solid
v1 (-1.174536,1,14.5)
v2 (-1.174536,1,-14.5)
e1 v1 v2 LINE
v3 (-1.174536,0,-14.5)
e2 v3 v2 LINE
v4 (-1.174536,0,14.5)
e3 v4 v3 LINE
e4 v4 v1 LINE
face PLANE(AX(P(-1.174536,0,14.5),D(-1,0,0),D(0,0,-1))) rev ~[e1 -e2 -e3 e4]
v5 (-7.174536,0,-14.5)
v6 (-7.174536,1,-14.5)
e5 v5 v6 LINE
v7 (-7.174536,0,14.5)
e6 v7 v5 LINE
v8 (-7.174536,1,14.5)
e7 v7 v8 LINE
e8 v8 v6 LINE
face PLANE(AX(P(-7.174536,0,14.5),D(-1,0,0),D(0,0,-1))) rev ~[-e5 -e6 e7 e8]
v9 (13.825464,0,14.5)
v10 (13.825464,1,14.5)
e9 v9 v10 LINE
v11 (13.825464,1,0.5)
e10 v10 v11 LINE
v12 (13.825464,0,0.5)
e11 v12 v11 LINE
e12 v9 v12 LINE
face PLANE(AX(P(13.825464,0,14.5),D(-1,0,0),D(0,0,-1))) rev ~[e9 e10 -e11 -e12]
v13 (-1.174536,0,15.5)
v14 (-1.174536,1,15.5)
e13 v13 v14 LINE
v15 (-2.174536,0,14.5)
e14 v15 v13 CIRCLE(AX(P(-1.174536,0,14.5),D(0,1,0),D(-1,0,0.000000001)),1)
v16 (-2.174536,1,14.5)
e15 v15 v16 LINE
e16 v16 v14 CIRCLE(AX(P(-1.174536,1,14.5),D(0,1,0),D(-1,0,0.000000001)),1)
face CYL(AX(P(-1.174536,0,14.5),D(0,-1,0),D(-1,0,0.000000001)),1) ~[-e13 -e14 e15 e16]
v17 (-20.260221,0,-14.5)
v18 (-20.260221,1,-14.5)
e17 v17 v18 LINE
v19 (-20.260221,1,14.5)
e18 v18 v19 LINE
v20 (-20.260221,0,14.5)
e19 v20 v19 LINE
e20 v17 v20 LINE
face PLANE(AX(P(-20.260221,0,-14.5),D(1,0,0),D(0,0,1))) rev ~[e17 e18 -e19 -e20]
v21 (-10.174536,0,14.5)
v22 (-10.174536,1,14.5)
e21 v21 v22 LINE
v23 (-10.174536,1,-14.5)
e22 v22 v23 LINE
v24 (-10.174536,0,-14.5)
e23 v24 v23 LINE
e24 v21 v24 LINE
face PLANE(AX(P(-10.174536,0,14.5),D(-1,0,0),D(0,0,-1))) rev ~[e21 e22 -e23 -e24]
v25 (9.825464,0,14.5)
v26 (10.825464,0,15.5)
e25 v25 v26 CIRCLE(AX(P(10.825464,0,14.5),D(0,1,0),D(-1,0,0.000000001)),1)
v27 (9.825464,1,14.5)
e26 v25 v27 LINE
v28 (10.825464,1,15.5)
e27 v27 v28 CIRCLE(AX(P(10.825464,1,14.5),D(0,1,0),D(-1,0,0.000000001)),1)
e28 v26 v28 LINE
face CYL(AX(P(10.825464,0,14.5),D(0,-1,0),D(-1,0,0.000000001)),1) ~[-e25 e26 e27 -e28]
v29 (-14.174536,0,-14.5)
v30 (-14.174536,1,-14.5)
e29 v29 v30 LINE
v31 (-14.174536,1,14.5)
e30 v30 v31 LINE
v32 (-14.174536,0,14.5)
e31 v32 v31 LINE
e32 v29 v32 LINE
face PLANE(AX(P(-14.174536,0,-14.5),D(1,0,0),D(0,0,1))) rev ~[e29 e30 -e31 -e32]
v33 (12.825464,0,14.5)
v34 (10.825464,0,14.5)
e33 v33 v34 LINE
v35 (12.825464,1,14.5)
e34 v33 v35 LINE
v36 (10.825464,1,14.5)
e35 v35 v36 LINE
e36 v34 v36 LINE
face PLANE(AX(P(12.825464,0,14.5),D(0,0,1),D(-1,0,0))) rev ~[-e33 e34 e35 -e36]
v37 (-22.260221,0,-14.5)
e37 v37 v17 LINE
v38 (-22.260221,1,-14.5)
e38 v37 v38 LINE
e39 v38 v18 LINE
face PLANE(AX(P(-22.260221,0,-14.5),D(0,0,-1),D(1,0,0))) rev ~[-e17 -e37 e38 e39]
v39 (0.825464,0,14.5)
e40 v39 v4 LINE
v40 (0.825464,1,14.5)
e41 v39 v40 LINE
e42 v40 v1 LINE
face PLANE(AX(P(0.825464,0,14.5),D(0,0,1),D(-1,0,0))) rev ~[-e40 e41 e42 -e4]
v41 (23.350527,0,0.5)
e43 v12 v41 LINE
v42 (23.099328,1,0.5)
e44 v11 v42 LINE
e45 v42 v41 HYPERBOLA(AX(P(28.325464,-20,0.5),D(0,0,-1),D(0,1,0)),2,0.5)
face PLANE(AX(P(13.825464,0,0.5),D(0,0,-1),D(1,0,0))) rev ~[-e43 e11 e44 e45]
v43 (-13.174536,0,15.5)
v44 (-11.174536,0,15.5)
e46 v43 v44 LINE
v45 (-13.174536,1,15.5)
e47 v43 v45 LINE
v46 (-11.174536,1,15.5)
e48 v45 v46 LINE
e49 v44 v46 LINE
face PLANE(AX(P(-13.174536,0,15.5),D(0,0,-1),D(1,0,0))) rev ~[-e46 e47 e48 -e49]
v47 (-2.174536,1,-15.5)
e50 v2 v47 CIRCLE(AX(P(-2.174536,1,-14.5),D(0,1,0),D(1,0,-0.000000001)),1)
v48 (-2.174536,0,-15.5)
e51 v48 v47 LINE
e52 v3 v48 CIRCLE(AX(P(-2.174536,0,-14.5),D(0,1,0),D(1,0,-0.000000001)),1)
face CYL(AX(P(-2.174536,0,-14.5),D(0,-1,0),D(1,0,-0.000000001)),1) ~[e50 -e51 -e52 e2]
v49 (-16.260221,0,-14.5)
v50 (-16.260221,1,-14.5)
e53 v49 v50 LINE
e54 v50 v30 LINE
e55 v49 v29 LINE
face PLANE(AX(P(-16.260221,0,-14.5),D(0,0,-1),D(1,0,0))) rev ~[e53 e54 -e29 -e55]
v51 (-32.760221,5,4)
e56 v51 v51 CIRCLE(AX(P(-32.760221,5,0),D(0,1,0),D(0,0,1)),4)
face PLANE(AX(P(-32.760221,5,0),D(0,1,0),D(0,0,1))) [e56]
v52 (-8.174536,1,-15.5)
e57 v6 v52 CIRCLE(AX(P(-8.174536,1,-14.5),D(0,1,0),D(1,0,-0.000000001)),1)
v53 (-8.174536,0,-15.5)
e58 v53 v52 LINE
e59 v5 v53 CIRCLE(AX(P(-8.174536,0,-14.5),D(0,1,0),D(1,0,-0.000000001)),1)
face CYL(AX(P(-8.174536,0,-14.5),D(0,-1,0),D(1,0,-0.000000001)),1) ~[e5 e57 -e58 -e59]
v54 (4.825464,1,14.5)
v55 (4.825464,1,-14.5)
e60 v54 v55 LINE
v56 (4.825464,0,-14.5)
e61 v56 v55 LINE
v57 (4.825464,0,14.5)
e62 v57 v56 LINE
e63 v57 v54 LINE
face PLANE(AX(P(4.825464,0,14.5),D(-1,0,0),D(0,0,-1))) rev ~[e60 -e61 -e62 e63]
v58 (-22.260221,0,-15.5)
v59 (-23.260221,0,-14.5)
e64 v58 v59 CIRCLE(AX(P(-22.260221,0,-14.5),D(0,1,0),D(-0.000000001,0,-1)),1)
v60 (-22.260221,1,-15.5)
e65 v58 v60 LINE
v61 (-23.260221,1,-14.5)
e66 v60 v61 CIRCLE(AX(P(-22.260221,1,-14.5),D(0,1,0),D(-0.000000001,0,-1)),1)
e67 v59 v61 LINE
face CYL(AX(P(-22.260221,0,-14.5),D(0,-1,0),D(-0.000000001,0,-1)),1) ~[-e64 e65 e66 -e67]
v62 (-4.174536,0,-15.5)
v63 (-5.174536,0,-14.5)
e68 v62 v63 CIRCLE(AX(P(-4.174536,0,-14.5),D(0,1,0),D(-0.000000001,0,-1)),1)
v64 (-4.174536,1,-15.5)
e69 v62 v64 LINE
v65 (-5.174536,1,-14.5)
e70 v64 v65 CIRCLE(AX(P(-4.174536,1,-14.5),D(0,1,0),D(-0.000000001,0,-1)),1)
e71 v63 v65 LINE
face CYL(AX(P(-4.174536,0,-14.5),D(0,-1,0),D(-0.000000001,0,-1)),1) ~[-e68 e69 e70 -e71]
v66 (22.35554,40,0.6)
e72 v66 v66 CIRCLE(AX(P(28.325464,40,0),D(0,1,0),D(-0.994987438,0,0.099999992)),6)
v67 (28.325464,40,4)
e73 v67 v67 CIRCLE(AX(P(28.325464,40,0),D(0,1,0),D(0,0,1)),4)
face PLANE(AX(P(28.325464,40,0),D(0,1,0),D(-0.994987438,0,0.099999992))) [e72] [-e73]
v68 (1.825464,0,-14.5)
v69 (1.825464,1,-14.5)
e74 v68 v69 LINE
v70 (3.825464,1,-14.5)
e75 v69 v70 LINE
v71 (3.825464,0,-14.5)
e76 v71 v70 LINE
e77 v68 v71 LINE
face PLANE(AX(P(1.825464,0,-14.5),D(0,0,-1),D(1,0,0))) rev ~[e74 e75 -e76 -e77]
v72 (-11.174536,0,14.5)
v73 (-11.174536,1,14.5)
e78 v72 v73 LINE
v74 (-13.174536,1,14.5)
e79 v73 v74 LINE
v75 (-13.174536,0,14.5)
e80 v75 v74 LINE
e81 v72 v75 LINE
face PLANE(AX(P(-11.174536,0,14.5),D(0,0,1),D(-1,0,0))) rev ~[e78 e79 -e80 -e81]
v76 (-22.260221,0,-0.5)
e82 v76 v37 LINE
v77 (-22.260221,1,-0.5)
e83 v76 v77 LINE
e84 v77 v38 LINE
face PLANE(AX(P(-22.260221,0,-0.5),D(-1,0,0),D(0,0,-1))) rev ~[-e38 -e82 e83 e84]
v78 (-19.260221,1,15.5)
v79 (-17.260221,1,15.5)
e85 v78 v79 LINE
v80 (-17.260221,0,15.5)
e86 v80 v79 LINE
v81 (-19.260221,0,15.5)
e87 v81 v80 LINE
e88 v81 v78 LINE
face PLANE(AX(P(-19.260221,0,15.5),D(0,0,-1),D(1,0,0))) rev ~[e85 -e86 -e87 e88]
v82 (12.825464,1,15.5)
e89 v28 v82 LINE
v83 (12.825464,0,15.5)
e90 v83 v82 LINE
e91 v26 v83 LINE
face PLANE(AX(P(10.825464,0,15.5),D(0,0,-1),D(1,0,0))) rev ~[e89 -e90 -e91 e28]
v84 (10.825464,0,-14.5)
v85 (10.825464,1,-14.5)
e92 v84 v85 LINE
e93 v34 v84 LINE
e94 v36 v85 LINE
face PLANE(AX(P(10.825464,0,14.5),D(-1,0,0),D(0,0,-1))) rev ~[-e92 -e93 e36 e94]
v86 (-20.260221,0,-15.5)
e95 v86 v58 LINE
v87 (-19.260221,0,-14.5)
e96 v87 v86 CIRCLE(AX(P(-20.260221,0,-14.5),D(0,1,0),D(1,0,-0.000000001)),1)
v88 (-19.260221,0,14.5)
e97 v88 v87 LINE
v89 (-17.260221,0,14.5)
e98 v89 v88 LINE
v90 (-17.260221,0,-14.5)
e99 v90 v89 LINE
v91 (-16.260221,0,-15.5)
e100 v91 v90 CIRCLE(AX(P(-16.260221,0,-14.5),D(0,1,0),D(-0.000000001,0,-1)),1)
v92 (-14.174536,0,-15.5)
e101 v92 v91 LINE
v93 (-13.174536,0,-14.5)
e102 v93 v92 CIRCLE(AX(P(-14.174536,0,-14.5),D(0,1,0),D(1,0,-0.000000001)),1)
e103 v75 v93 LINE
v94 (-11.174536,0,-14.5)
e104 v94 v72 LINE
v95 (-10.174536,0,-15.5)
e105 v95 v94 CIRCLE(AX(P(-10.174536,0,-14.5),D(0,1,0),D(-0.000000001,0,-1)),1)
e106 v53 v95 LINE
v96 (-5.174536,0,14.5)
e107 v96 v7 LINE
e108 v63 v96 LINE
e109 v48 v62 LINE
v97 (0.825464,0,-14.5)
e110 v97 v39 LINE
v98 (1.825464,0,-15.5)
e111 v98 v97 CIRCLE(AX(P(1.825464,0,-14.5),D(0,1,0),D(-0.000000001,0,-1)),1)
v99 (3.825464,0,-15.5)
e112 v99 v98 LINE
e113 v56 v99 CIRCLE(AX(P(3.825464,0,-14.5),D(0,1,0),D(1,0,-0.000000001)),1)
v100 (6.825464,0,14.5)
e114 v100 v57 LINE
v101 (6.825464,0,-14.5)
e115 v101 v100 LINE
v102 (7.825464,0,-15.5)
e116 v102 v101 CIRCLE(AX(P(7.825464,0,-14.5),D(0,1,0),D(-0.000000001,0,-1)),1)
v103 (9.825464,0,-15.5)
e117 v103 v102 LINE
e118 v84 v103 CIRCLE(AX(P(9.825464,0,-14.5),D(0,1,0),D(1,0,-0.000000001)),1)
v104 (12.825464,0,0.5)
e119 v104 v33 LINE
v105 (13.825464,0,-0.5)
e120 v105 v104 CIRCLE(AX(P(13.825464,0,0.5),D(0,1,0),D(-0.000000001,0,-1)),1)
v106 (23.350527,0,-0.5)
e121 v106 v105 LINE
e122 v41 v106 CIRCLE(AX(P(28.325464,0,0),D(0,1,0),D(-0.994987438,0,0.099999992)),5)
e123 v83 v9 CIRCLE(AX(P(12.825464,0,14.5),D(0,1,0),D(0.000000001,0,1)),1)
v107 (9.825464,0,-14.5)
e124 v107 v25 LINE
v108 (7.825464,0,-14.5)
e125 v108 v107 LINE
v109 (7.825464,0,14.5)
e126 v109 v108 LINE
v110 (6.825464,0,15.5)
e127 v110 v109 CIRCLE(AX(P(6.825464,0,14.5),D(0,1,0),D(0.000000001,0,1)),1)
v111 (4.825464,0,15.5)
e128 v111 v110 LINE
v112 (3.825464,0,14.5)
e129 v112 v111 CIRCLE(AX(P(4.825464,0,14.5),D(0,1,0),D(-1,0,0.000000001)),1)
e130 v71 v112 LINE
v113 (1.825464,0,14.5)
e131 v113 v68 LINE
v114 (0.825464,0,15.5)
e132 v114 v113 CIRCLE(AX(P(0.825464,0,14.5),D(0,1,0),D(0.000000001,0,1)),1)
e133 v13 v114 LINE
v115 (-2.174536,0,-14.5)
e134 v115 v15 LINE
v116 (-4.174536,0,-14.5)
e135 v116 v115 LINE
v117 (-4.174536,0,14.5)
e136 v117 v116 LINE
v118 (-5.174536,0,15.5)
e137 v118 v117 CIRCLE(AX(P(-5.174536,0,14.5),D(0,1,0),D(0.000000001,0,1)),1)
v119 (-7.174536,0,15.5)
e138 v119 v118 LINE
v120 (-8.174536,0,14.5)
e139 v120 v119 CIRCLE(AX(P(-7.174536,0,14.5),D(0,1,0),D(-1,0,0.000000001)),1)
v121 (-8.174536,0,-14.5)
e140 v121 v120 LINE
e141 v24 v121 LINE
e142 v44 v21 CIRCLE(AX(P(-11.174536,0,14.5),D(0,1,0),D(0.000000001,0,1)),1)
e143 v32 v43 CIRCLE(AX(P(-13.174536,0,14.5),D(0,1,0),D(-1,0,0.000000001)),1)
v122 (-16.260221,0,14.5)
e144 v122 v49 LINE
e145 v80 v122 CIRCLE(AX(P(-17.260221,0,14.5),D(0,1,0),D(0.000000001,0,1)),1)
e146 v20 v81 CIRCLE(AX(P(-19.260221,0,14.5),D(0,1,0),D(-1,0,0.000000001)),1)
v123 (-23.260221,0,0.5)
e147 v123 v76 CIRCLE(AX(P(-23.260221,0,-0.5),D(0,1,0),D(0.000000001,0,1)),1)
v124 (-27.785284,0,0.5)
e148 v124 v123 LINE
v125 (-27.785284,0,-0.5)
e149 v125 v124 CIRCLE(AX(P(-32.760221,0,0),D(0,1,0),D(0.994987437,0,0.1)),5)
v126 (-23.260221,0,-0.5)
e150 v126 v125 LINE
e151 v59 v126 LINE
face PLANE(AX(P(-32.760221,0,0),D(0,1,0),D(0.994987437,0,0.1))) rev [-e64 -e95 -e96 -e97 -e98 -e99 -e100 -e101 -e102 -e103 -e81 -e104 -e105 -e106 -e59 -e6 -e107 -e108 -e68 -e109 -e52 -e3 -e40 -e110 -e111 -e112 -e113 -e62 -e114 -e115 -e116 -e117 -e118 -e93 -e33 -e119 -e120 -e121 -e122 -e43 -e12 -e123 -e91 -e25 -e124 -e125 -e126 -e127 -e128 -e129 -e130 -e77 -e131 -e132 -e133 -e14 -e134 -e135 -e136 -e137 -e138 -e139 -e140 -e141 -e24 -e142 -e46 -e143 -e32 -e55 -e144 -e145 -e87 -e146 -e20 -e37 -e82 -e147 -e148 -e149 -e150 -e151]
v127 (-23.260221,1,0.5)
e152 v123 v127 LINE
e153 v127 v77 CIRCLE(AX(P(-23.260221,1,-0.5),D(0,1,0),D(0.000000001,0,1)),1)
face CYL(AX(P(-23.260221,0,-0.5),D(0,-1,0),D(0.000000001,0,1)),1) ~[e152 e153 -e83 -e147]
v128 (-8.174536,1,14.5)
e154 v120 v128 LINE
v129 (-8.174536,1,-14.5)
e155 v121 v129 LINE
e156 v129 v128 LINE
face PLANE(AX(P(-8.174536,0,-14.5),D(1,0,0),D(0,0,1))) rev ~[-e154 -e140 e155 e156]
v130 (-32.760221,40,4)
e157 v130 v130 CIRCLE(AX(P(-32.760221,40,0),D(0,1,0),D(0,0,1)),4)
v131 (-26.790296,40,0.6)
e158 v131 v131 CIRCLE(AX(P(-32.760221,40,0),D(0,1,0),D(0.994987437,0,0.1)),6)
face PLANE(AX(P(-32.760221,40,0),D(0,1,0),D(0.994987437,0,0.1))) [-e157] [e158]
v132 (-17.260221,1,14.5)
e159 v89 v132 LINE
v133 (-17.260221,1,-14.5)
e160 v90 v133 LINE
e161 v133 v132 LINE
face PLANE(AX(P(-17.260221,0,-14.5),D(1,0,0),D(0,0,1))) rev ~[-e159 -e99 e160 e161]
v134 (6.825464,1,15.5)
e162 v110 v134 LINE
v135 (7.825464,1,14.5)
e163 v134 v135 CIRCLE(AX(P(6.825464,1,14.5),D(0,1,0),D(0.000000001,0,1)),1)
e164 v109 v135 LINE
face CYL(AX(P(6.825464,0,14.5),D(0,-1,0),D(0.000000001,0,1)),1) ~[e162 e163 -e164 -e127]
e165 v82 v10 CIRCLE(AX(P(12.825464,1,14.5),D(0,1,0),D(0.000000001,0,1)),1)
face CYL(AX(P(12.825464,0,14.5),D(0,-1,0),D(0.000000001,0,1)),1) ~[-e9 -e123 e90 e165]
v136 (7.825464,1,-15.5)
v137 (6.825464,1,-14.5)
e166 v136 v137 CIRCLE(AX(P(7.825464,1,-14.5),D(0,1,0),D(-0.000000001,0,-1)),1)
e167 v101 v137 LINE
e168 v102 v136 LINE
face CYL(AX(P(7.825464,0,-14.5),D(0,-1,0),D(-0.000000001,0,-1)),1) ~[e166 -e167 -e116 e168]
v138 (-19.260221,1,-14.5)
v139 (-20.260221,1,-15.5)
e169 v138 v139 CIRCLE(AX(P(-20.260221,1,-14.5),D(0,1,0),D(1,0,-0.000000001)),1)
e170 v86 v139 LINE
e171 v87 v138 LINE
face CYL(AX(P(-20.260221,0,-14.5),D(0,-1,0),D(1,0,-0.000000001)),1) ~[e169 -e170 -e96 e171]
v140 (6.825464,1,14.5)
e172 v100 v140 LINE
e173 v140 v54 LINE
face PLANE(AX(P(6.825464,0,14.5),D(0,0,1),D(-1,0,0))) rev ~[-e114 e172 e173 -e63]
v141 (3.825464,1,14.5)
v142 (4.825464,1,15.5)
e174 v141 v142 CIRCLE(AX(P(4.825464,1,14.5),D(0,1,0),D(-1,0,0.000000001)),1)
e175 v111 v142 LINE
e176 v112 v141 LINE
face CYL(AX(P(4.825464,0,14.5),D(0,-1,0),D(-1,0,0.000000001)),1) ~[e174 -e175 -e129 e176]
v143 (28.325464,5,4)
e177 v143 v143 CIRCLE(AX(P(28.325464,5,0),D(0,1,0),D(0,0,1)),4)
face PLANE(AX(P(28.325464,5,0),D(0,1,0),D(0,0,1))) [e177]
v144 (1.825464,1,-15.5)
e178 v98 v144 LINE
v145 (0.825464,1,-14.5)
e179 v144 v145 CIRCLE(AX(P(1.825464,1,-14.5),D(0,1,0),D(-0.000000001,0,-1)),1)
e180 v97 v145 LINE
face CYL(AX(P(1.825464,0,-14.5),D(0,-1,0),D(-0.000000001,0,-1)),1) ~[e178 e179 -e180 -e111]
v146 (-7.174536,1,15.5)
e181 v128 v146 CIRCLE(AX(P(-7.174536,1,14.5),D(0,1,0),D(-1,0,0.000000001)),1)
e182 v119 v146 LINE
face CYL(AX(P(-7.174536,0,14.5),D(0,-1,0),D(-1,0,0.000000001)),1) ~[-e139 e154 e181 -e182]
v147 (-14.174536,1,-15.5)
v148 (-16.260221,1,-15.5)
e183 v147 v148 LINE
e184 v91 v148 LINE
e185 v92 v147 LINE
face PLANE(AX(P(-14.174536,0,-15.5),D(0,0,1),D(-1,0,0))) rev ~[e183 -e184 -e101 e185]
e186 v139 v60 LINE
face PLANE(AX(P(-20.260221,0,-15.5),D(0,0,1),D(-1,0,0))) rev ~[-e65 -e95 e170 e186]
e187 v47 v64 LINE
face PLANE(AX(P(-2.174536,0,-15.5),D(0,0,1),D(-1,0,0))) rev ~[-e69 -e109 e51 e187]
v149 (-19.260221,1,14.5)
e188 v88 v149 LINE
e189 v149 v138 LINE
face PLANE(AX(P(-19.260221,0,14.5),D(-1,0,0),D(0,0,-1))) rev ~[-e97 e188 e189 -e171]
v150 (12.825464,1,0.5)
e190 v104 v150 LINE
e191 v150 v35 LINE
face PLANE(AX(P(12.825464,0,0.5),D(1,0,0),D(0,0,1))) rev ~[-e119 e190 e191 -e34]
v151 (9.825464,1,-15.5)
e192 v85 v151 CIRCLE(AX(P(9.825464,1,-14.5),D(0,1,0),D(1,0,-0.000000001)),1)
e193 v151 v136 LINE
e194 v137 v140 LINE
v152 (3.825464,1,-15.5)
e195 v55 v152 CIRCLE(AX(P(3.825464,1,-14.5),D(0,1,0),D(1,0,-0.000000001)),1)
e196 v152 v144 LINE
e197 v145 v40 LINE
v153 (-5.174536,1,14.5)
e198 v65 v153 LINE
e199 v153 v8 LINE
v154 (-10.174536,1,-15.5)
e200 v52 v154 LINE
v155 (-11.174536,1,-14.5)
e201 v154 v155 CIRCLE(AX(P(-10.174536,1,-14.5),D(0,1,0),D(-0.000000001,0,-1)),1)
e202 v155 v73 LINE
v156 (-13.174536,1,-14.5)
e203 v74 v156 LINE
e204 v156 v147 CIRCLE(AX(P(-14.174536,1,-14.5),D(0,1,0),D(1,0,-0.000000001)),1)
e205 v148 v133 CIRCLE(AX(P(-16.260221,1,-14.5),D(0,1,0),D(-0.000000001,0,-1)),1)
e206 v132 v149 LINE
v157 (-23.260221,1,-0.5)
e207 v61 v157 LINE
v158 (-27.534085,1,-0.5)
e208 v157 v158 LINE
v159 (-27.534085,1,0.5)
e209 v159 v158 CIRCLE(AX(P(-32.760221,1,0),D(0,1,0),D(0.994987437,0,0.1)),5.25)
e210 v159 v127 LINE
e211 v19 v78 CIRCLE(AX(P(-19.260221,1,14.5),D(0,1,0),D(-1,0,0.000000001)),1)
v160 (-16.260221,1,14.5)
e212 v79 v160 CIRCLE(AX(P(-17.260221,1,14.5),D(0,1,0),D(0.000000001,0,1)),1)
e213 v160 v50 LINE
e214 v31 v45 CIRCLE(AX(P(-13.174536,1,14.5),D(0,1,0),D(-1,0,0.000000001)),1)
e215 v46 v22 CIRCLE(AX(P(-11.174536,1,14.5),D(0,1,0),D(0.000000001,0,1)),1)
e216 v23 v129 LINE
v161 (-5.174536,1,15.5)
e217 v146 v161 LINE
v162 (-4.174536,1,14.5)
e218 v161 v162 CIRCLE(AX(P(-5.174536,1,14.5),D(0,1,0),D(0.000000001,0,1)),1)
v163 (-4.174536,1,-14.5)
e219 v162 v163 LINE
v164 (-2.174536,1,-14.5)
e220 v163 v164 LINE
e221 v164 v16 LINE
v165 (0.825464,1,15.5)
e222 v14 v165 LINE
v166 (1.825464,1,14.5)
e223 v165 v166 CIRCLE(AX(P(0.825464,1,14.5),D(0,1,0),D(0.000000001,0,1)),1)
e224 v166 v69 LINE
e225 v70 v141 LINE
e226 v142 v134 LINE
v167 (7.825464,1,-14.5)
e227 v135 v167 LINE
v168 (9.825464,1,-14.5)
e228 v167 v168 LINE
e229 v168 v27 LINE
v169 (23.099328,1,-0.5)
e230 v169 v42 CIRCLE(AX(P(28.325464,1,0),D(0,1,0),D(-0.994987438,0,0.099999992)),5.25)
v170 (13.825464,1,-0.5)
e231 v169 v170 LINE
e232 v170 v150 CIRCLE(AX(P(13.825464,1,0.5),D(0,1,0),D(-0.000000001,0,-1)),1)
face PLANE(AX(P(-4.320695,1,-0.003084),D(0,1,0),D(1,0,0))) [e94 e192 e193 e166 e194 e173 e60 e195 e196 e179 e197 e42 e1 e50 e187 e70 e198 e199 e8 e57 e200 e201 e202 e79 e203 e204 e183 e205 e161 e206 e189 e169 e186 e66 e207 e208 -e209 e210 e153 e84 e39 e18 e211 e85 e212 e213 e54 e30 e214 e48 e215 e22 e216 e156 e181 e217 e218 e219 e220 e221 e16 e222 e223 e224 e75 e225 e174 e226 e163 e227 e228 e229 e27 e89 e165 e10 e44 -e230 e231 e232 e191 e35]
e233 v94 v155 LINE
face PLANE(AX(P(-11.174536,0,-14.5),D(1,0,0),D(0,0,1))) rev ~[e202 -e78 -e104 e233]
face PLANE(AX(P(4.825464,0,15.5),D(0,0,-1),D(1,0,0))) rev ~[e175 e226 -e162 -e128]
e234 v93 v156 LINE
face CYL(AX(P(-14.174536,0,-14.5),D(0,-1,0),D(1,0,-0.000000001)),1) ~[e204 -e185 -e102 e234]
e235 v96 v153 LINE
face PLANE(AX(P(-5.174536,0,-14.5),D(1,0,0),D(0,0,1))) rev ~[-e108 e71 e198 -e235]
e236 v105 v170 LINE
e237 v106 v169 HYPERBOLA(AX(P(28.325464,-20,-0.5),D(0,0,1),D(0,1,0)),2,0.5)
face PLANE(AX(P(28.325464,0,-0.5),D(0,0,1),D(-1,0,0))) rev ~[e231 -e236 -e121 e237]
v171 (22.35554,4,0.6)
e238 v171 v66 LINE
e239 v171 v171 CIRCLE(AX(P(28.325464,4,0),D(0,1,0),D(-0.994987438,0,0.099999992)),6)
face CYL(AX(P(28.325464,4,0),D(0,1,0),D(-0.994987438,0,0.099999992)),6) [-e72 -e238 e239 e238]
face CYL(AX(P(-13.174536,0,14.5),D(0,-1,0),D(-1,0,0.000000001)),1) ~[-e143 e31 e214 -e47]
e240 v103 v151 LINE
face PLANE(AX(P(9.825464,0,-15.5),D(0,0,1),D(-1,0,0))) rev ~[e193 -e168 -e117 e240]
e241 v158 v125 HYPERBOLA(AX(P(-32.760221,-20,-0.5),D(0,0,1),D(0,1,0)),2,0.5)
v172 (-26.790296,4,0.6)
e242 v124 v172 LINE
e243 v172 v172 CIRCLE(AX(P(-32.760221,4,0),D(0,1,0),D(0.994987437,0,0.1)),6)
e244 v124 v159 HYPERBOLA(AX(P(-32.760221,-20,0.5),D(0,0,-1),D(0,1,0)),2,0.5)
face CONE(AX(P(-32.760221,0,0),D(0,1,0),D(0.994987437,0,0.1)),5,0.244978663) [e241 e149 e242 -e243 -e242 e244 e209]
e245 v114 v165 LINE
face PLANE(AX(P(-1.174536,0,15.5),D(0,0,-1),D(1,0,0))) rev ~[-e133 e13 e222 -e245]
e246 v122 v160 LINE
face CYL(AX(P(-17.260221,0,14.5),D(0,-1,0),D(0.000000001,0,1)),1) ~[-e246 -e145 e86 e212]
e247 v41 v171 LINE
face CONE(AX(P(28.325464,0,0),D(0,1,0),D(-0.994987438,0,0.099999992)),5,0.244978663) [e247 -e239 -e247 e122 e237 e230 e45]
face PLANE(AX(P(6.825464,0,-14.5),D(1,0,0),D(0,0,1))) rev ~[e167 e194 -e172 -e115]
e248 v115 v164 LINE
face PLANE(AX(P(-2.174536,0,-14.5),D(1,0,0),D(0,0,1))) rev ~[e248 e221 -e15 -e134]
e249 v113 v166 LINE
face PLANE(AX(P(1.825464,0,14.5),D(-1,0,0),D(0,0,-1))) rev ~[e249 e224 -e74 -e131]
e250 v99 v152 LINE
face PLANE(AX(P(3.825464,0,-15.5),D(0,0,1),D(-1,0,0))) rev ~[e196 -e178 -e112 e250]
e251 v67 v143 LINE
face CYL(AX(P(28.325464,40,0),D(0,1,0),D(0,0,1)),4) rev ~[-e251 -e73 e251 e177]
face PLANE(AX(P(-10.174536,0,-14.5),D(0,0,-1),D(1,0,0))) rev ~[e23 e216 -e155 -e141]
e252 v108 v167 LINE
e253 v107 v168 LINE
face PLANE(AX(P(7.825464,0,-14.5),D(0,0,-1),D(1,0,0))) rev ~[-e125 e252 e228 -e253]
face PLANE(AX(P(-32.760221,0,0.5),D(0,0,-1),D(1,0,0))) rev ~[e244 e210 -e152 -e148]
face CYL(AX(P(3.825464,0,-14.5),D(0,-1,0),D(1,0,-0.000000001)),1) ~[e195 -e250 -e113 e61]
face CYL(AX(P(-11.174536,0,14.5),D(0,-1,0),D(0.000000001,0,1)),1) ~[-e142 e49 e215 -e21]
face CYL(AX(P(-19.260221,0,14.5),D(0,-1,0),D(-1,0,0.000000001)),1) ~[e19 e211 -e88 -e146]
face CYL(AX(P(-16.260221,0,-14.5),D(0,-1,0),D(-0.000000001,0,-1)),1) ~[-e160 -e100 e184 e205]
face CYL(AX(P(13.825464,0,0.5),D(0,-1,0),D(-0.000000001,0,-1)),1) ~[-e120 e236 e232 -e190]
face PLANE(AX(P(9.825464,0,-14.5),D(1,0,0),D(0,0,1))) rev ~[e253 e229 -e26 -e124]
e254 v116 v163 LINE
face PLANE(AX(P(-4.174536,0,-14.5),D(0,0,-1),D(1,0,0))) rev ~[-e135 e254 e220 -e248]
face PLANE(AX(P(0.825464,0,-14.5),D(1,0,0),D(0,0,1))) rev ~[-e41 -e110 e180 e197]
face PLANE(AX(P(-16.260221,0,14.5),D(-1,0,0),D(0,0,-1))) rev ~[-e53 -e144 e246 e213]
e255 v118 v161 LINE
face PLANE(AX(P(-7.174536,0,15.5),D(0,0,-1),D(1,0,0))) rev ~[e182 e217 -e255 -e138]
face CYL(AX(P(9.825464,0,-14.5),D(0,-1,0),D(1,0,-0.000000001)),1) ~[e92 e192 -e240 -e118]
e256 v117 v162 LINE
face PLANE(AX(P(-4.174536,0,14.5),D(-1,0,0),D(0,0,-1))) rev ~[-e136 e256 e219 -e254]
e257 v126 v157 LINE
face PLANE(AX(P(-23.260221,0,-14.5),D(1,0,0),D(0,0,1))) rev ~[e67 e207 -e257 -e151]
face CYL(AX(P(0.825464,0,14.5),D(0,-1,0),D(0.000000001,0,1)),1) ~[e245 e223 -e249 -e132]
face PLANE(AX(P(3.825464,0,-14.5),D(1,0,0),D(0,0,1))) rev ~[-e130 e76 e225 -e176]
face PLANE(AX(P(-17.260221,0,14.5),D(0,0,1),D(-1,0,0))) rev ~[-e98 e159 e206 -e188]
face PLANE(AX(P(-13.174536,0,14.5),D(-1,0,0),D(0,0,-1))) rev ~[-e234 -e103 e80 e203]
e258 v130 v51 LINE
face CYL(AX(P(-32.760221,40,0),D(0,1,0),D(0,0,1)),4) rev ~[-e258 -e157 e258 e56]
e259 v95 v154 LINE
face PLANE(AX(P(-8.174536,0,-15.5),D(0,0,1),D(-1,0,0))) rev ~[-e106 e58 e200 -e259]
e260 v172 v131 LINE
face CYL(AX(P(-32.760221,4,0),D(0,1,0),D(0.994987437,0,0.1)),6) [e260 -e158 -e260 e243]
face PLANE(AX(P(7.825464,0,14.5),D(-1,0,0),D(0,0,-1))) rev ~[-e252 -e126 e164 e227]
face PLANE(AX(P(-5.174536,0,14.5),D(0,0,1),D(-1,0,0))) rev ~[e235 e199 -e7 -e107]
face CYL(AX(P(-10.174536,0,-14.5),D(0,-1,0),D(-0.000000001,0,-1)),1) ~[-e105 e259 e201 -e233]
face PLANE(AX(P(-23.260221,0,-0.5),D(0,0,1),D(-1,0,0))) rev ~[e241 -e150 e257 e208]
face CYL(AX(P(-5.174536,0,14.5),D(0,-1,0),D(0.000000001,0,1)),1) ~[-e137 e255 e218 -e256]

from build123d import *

# Parameters (mm, degrees)
BOSS_EXTRUDE1_DEPTH = 1
SKETCH5_R           = 4
CUT_EXTRUDE1_DEPTH  = 35


with BuildPart() as part:
    # Sketch2 → Boss-Extrude1 (new body)
    with BuildSketch(Plane(origin=(0, 0, 0), x_dir=(1, 0, 0), z_dir=(0, 1, 0))):
        with BuildLine():
            Line((-32.760220782, -0.5), (-23.260220782, -0.5))
            ThreePointArc((-23.260220782, -0.5), (-22.553114001, -0.207106781), (-22.260220782, 0.5))
            Line((-22.260220782, 0.5), (-22.260220782, 14.5))
            Line((-22.260220782, 14.5), (-20.260220782, 14.5))
            Line((-20.260220782, 14.5), (-20.260220782, 0))
            Line((-20.260220782, 0), (-20.260220782, -14.5))
            ThreePointArc((-20.260220782, -14.5), (-19.967327563, -15.207106781), (-19.260220782, -15.5))
            Line((-19.260220782, -15.5), (-17.260220782, -15.5))
            ThreePointArc((-17.260220782, -15.5), (-16.553114001, -15.207106781), (-16.260220782, -14.5))
            Line((-16.260220782, -14.5), (-16.260220782, 0))
            Line((-16.260220782, 0), (-16.260220782, 14.5))
            Line((-16.260220782, 14.5), (-14.174535805, 14.5))
            Line((-14.174535805, 14.5), (-14.174535805, -14.5))
            ThreePointArc((-14.174535805, -14.5), (-13.881642586, -15.207106781), (-13.174535805, -15.5))
            Line((-13.174535805, -15.5), (-11.174535805, -15.5))
            ThreePointArc((-11.174535805, -15.5), (-10.467429024, -15.207106781), (-10.174535805, -14.5))
            Line((-10.174535805, -14.5), (-10.174535805, 14.5))
            Line((-10.174535805, 14.5), (-8.174535805, 14.5))
            Line((-8.174535805, 14.5), (-8.174535805, -14.5))
            ThreePointArc((-8.174535805, -14.5), (-7.881642586, -15.207106781), (-7.174535805, -15.5))
            Line((-7.174535805, -15.5), (-5.174535805, -15.5))
            ThreePointArc((-5.174535805, -15.5), (-4.467429024, -15.207106781), (-4.174535805, -14.5))
            Line((-4.174535805, -14.5), (-4.174535805, 14.5))
            Line((-4.174535805, 14.5), (-2.174535805, 14.5))
            Line((-2.174535805, 14.5), (-2.174535805, -14.5))
            ThreePointArc((-2.174535805, -14.5), (-1.881642586, -15.207106781), (-1.174535805, -15.5))
            Line((-1.174535805, -15.5), (0.825464195, -15.5))
            ThreePointArc((0.825464195, -15.5), (1.532570976, -15.207106781), (1.825464195, -14.5))
            Line((1.825464195, -14.5), (1.825464195, 14.5))
            Line((1.825464195, 14.5), (3.825464195, 14.5))
            Line((3.825464195, 14.5), (3.825464195, -14.5))
            ThreePointArc((3.825464195, -14.5), (4.118357414, -15.207106781), (4.825464195, -15.5))
            Line((4.825464195, -15.5), (6.825464195, -15.5))
            ThreePointArc((6.825464195, -15.5), (7.532570976, -15.207106781), (7.825464195, -14.5))
            Line((7.825464195, -14.5), (7.825464195, 14.5))
            Line((7.825464195, 14.5), (9.825464195, 14.5))
            Line((9.825464195, 14.5), (9.825464195, -14.5))
            ThreePointArc((9.825464195, -14.5), (10.118357414, -15.207106781), (10.825464195, -15.5))
            Line((10.825464195, -15.5), (12.825464195, -15.5))
            ThreePointArc((12.825464195, -15.5), (13.532570976, -15.207106781), (13.825464195, -14.5))
            Line((13.825464195, -14.5), (13.825464195, -0.5))
            Line((13.825464195, -0.5), (28.325464195, -0.5))
            ThreePointArc((28.325464195, -0.5), (28.825464195, 0), (28.325464195, 0.5))
            Line((28.325464195, 0.5), (13.825464195, 0.5))
            ThreePointArc((13.825464195, 0.5), (13.118357414, 0.207106781), (12.825464195, -0.5))
            Line((12.825464195, -0.5), (12.825464195, -14.5))
            Line((12.825464195, -14.5), (10.825464195, -14.5))
            Line((10.825464195, -14.5), (10.825464195, 14.5))
            ThreePointArc((10.825464195, 14.5), (10.532570976, 15.207106781), (9.825464195, 15.5))
            Line((9.825464195, 15.5), (7.825464195, 15.5))
            ThreePointArc((7.825464195, 15.5), (7.118357414, 15.207106781), (6.825464195, 14.5))
            Line((6.825464195, 14.5), (6.825464195, -14.5))
            Line((6.825464195, -14.5), (4.825464195, -14.5))
            Line((4.825464195, -14.5), (4.825464195, 14.5))
            ThreePointArc((4.825464195, 14.5), (4.532570976, 15.207106781), (3.825464195, 15.5))
            Line((3.825464195, 15.5), (1.825464195, 15.5))
            ThreePointArc((1.825464195, 15.5), (1.118357414, 15.207106781), (0.825464195, 14.5))
            Line((0.825464195, 14.5), (0.825464195, -14.5))
            Line((0.825464195, -14.5), (-1.174535805, -14.5))
            Line((-1.174535805, -14.5), (-1.174535805, 14.5))
            ThreePointArc((-1.174535805, 14.5), (-1.467429024, 15.207106781), (-2.174535805, 15.5))
            Line((-2.174535805, 15.5), (-4.174535805, 15.5))
            ThreePointArc((-4.174535805, 15.5), (-4.881642586, 15.207106781), (-5.174535805, 14.5))
            Line((-5.174535805, 14.5), (-5.174535805, -14.5))
            Line((-5.174535805, -14.5), (-7.174535805, -14.5))
            Line((-7.174535805, -14.5), (-7.174535805, 14.5))
            ThreePointArc((-7.174535805, 14.5), (-7.467429024, 15.207106781), (-8.174535805, 15.5))
            Line((-8.174535805, 15.5), (-10.174535805, 15.5))
            ThreePointArc((-10.174535805, 15.5), (-10.881642586, 15.207106781), (-11.174535805, 14.5))
            Line((-11.174535805, 14.5), (-11.174535805, -14.5))
            Line((-11.174535805, -14.5), (-13.174535805, -14.5))
            Line((-13.174535805, -14.5), (-13.174535805, 14.5))
            ThreePointArc((-13.174535805, 14.5), (-13.467429024, 15.207106781), (-14.174535805, 15.5))
            Line((-14.174535805, 15.5), (-16.260220782, 15.5))
            ThreePointArc((-16.260220782, 15.5), (-16.967327563, 15.207106781), (-17.260220782, 14.5))
            Line((-17.260220782, 14.5), (-17.260220782, 0))
            Line((-17.260220782, 0), (-17.260220782, -14.5))
            Line((-17.260220782, -14.5), (-19.260220782, -14.5))
            Line((-19.260220782, -14.5), (-19.260220782, 0))
            Line((-19.260220782, 0), (-19.260220782, 14.5))
            ThreePointArc((-19.260220782, 14.5), (-19.553114001, 15.207106781), (-20.260220782, 15.5))
            Line((-20.260220782, 15.5), (-22.260220782, 15.5))
            ThreePointArc((-22.260220782, 15.5), (-22.967327563, 15.207106781), (-23.260220782, 14.5))
            Line((-23.260220782, 14.5), (-23.260220782, 0.5))
            Line((-23.260220782, 0.5), (-32.760220782, 0.5))
            ThreePointArc((-32.760220782, 0.5), (-33.260220782, 0), (-32.760220782, -0.5))
        make_face()
    extrude(amount=BOSS_EXTRUDE1_DEPTH)

    # Sketch3 → Revolve1 (revolve)
    with BuildSketch(Plane.XY, mode=Mode.PRIVATE) as revolve1_sk:
        Polygon((-32.760220782, 0), (-37.760220782, 0), (-38.760220782, 4), (-38.760220782, 40), (-32.760220782, 40), align=None)
    revolve(revolve1_sk.sketch.rotate(Axis((-32.760220782, 0, 0), (0, 1, 0)), 174.260829523), axis=Axis((-32.760220782, 0, 0), (0, 1, 0)))

    # Sketch4 → Revolve2 (revolve)
    with BuildSketch(Plane.XY, mode=Mode.PRIVATE) as revolve2_sk:
        Polygon((28.325464195, 0), (33.325464195, 0), (34.325464195, 4), (34.325464195, 40), (28.325464195, 40), align=None)
    revolve(revolve2_sk.sketch.rotate(Axis((28.325464195, 0, 0), (0, 1, 0)), 185.739170027), axis=Axis((28.325464195, 0, 0), (0, 1, 0)))

    # Sketch5 → Cut-Extrude1 (cut)
    with BuildSketch(Plane(origin=(0, 40, 0), x_dir=(1, 0, 0), z_dir=(0, 1, 0))):
        with Locations(Location((-32.760220782, 0, 0), (0, 0, 270))):
            Circle(SKETCH5_R)
        with Locations(Location((28.325464195, 0, 0), (0, 0, 270))):
            Circle(SKETCH5_R)
    extrude(amount=-CUT_EXTRUDE1_DEPTH, mode=Mode.SUBTRACT)


solid = part.part
